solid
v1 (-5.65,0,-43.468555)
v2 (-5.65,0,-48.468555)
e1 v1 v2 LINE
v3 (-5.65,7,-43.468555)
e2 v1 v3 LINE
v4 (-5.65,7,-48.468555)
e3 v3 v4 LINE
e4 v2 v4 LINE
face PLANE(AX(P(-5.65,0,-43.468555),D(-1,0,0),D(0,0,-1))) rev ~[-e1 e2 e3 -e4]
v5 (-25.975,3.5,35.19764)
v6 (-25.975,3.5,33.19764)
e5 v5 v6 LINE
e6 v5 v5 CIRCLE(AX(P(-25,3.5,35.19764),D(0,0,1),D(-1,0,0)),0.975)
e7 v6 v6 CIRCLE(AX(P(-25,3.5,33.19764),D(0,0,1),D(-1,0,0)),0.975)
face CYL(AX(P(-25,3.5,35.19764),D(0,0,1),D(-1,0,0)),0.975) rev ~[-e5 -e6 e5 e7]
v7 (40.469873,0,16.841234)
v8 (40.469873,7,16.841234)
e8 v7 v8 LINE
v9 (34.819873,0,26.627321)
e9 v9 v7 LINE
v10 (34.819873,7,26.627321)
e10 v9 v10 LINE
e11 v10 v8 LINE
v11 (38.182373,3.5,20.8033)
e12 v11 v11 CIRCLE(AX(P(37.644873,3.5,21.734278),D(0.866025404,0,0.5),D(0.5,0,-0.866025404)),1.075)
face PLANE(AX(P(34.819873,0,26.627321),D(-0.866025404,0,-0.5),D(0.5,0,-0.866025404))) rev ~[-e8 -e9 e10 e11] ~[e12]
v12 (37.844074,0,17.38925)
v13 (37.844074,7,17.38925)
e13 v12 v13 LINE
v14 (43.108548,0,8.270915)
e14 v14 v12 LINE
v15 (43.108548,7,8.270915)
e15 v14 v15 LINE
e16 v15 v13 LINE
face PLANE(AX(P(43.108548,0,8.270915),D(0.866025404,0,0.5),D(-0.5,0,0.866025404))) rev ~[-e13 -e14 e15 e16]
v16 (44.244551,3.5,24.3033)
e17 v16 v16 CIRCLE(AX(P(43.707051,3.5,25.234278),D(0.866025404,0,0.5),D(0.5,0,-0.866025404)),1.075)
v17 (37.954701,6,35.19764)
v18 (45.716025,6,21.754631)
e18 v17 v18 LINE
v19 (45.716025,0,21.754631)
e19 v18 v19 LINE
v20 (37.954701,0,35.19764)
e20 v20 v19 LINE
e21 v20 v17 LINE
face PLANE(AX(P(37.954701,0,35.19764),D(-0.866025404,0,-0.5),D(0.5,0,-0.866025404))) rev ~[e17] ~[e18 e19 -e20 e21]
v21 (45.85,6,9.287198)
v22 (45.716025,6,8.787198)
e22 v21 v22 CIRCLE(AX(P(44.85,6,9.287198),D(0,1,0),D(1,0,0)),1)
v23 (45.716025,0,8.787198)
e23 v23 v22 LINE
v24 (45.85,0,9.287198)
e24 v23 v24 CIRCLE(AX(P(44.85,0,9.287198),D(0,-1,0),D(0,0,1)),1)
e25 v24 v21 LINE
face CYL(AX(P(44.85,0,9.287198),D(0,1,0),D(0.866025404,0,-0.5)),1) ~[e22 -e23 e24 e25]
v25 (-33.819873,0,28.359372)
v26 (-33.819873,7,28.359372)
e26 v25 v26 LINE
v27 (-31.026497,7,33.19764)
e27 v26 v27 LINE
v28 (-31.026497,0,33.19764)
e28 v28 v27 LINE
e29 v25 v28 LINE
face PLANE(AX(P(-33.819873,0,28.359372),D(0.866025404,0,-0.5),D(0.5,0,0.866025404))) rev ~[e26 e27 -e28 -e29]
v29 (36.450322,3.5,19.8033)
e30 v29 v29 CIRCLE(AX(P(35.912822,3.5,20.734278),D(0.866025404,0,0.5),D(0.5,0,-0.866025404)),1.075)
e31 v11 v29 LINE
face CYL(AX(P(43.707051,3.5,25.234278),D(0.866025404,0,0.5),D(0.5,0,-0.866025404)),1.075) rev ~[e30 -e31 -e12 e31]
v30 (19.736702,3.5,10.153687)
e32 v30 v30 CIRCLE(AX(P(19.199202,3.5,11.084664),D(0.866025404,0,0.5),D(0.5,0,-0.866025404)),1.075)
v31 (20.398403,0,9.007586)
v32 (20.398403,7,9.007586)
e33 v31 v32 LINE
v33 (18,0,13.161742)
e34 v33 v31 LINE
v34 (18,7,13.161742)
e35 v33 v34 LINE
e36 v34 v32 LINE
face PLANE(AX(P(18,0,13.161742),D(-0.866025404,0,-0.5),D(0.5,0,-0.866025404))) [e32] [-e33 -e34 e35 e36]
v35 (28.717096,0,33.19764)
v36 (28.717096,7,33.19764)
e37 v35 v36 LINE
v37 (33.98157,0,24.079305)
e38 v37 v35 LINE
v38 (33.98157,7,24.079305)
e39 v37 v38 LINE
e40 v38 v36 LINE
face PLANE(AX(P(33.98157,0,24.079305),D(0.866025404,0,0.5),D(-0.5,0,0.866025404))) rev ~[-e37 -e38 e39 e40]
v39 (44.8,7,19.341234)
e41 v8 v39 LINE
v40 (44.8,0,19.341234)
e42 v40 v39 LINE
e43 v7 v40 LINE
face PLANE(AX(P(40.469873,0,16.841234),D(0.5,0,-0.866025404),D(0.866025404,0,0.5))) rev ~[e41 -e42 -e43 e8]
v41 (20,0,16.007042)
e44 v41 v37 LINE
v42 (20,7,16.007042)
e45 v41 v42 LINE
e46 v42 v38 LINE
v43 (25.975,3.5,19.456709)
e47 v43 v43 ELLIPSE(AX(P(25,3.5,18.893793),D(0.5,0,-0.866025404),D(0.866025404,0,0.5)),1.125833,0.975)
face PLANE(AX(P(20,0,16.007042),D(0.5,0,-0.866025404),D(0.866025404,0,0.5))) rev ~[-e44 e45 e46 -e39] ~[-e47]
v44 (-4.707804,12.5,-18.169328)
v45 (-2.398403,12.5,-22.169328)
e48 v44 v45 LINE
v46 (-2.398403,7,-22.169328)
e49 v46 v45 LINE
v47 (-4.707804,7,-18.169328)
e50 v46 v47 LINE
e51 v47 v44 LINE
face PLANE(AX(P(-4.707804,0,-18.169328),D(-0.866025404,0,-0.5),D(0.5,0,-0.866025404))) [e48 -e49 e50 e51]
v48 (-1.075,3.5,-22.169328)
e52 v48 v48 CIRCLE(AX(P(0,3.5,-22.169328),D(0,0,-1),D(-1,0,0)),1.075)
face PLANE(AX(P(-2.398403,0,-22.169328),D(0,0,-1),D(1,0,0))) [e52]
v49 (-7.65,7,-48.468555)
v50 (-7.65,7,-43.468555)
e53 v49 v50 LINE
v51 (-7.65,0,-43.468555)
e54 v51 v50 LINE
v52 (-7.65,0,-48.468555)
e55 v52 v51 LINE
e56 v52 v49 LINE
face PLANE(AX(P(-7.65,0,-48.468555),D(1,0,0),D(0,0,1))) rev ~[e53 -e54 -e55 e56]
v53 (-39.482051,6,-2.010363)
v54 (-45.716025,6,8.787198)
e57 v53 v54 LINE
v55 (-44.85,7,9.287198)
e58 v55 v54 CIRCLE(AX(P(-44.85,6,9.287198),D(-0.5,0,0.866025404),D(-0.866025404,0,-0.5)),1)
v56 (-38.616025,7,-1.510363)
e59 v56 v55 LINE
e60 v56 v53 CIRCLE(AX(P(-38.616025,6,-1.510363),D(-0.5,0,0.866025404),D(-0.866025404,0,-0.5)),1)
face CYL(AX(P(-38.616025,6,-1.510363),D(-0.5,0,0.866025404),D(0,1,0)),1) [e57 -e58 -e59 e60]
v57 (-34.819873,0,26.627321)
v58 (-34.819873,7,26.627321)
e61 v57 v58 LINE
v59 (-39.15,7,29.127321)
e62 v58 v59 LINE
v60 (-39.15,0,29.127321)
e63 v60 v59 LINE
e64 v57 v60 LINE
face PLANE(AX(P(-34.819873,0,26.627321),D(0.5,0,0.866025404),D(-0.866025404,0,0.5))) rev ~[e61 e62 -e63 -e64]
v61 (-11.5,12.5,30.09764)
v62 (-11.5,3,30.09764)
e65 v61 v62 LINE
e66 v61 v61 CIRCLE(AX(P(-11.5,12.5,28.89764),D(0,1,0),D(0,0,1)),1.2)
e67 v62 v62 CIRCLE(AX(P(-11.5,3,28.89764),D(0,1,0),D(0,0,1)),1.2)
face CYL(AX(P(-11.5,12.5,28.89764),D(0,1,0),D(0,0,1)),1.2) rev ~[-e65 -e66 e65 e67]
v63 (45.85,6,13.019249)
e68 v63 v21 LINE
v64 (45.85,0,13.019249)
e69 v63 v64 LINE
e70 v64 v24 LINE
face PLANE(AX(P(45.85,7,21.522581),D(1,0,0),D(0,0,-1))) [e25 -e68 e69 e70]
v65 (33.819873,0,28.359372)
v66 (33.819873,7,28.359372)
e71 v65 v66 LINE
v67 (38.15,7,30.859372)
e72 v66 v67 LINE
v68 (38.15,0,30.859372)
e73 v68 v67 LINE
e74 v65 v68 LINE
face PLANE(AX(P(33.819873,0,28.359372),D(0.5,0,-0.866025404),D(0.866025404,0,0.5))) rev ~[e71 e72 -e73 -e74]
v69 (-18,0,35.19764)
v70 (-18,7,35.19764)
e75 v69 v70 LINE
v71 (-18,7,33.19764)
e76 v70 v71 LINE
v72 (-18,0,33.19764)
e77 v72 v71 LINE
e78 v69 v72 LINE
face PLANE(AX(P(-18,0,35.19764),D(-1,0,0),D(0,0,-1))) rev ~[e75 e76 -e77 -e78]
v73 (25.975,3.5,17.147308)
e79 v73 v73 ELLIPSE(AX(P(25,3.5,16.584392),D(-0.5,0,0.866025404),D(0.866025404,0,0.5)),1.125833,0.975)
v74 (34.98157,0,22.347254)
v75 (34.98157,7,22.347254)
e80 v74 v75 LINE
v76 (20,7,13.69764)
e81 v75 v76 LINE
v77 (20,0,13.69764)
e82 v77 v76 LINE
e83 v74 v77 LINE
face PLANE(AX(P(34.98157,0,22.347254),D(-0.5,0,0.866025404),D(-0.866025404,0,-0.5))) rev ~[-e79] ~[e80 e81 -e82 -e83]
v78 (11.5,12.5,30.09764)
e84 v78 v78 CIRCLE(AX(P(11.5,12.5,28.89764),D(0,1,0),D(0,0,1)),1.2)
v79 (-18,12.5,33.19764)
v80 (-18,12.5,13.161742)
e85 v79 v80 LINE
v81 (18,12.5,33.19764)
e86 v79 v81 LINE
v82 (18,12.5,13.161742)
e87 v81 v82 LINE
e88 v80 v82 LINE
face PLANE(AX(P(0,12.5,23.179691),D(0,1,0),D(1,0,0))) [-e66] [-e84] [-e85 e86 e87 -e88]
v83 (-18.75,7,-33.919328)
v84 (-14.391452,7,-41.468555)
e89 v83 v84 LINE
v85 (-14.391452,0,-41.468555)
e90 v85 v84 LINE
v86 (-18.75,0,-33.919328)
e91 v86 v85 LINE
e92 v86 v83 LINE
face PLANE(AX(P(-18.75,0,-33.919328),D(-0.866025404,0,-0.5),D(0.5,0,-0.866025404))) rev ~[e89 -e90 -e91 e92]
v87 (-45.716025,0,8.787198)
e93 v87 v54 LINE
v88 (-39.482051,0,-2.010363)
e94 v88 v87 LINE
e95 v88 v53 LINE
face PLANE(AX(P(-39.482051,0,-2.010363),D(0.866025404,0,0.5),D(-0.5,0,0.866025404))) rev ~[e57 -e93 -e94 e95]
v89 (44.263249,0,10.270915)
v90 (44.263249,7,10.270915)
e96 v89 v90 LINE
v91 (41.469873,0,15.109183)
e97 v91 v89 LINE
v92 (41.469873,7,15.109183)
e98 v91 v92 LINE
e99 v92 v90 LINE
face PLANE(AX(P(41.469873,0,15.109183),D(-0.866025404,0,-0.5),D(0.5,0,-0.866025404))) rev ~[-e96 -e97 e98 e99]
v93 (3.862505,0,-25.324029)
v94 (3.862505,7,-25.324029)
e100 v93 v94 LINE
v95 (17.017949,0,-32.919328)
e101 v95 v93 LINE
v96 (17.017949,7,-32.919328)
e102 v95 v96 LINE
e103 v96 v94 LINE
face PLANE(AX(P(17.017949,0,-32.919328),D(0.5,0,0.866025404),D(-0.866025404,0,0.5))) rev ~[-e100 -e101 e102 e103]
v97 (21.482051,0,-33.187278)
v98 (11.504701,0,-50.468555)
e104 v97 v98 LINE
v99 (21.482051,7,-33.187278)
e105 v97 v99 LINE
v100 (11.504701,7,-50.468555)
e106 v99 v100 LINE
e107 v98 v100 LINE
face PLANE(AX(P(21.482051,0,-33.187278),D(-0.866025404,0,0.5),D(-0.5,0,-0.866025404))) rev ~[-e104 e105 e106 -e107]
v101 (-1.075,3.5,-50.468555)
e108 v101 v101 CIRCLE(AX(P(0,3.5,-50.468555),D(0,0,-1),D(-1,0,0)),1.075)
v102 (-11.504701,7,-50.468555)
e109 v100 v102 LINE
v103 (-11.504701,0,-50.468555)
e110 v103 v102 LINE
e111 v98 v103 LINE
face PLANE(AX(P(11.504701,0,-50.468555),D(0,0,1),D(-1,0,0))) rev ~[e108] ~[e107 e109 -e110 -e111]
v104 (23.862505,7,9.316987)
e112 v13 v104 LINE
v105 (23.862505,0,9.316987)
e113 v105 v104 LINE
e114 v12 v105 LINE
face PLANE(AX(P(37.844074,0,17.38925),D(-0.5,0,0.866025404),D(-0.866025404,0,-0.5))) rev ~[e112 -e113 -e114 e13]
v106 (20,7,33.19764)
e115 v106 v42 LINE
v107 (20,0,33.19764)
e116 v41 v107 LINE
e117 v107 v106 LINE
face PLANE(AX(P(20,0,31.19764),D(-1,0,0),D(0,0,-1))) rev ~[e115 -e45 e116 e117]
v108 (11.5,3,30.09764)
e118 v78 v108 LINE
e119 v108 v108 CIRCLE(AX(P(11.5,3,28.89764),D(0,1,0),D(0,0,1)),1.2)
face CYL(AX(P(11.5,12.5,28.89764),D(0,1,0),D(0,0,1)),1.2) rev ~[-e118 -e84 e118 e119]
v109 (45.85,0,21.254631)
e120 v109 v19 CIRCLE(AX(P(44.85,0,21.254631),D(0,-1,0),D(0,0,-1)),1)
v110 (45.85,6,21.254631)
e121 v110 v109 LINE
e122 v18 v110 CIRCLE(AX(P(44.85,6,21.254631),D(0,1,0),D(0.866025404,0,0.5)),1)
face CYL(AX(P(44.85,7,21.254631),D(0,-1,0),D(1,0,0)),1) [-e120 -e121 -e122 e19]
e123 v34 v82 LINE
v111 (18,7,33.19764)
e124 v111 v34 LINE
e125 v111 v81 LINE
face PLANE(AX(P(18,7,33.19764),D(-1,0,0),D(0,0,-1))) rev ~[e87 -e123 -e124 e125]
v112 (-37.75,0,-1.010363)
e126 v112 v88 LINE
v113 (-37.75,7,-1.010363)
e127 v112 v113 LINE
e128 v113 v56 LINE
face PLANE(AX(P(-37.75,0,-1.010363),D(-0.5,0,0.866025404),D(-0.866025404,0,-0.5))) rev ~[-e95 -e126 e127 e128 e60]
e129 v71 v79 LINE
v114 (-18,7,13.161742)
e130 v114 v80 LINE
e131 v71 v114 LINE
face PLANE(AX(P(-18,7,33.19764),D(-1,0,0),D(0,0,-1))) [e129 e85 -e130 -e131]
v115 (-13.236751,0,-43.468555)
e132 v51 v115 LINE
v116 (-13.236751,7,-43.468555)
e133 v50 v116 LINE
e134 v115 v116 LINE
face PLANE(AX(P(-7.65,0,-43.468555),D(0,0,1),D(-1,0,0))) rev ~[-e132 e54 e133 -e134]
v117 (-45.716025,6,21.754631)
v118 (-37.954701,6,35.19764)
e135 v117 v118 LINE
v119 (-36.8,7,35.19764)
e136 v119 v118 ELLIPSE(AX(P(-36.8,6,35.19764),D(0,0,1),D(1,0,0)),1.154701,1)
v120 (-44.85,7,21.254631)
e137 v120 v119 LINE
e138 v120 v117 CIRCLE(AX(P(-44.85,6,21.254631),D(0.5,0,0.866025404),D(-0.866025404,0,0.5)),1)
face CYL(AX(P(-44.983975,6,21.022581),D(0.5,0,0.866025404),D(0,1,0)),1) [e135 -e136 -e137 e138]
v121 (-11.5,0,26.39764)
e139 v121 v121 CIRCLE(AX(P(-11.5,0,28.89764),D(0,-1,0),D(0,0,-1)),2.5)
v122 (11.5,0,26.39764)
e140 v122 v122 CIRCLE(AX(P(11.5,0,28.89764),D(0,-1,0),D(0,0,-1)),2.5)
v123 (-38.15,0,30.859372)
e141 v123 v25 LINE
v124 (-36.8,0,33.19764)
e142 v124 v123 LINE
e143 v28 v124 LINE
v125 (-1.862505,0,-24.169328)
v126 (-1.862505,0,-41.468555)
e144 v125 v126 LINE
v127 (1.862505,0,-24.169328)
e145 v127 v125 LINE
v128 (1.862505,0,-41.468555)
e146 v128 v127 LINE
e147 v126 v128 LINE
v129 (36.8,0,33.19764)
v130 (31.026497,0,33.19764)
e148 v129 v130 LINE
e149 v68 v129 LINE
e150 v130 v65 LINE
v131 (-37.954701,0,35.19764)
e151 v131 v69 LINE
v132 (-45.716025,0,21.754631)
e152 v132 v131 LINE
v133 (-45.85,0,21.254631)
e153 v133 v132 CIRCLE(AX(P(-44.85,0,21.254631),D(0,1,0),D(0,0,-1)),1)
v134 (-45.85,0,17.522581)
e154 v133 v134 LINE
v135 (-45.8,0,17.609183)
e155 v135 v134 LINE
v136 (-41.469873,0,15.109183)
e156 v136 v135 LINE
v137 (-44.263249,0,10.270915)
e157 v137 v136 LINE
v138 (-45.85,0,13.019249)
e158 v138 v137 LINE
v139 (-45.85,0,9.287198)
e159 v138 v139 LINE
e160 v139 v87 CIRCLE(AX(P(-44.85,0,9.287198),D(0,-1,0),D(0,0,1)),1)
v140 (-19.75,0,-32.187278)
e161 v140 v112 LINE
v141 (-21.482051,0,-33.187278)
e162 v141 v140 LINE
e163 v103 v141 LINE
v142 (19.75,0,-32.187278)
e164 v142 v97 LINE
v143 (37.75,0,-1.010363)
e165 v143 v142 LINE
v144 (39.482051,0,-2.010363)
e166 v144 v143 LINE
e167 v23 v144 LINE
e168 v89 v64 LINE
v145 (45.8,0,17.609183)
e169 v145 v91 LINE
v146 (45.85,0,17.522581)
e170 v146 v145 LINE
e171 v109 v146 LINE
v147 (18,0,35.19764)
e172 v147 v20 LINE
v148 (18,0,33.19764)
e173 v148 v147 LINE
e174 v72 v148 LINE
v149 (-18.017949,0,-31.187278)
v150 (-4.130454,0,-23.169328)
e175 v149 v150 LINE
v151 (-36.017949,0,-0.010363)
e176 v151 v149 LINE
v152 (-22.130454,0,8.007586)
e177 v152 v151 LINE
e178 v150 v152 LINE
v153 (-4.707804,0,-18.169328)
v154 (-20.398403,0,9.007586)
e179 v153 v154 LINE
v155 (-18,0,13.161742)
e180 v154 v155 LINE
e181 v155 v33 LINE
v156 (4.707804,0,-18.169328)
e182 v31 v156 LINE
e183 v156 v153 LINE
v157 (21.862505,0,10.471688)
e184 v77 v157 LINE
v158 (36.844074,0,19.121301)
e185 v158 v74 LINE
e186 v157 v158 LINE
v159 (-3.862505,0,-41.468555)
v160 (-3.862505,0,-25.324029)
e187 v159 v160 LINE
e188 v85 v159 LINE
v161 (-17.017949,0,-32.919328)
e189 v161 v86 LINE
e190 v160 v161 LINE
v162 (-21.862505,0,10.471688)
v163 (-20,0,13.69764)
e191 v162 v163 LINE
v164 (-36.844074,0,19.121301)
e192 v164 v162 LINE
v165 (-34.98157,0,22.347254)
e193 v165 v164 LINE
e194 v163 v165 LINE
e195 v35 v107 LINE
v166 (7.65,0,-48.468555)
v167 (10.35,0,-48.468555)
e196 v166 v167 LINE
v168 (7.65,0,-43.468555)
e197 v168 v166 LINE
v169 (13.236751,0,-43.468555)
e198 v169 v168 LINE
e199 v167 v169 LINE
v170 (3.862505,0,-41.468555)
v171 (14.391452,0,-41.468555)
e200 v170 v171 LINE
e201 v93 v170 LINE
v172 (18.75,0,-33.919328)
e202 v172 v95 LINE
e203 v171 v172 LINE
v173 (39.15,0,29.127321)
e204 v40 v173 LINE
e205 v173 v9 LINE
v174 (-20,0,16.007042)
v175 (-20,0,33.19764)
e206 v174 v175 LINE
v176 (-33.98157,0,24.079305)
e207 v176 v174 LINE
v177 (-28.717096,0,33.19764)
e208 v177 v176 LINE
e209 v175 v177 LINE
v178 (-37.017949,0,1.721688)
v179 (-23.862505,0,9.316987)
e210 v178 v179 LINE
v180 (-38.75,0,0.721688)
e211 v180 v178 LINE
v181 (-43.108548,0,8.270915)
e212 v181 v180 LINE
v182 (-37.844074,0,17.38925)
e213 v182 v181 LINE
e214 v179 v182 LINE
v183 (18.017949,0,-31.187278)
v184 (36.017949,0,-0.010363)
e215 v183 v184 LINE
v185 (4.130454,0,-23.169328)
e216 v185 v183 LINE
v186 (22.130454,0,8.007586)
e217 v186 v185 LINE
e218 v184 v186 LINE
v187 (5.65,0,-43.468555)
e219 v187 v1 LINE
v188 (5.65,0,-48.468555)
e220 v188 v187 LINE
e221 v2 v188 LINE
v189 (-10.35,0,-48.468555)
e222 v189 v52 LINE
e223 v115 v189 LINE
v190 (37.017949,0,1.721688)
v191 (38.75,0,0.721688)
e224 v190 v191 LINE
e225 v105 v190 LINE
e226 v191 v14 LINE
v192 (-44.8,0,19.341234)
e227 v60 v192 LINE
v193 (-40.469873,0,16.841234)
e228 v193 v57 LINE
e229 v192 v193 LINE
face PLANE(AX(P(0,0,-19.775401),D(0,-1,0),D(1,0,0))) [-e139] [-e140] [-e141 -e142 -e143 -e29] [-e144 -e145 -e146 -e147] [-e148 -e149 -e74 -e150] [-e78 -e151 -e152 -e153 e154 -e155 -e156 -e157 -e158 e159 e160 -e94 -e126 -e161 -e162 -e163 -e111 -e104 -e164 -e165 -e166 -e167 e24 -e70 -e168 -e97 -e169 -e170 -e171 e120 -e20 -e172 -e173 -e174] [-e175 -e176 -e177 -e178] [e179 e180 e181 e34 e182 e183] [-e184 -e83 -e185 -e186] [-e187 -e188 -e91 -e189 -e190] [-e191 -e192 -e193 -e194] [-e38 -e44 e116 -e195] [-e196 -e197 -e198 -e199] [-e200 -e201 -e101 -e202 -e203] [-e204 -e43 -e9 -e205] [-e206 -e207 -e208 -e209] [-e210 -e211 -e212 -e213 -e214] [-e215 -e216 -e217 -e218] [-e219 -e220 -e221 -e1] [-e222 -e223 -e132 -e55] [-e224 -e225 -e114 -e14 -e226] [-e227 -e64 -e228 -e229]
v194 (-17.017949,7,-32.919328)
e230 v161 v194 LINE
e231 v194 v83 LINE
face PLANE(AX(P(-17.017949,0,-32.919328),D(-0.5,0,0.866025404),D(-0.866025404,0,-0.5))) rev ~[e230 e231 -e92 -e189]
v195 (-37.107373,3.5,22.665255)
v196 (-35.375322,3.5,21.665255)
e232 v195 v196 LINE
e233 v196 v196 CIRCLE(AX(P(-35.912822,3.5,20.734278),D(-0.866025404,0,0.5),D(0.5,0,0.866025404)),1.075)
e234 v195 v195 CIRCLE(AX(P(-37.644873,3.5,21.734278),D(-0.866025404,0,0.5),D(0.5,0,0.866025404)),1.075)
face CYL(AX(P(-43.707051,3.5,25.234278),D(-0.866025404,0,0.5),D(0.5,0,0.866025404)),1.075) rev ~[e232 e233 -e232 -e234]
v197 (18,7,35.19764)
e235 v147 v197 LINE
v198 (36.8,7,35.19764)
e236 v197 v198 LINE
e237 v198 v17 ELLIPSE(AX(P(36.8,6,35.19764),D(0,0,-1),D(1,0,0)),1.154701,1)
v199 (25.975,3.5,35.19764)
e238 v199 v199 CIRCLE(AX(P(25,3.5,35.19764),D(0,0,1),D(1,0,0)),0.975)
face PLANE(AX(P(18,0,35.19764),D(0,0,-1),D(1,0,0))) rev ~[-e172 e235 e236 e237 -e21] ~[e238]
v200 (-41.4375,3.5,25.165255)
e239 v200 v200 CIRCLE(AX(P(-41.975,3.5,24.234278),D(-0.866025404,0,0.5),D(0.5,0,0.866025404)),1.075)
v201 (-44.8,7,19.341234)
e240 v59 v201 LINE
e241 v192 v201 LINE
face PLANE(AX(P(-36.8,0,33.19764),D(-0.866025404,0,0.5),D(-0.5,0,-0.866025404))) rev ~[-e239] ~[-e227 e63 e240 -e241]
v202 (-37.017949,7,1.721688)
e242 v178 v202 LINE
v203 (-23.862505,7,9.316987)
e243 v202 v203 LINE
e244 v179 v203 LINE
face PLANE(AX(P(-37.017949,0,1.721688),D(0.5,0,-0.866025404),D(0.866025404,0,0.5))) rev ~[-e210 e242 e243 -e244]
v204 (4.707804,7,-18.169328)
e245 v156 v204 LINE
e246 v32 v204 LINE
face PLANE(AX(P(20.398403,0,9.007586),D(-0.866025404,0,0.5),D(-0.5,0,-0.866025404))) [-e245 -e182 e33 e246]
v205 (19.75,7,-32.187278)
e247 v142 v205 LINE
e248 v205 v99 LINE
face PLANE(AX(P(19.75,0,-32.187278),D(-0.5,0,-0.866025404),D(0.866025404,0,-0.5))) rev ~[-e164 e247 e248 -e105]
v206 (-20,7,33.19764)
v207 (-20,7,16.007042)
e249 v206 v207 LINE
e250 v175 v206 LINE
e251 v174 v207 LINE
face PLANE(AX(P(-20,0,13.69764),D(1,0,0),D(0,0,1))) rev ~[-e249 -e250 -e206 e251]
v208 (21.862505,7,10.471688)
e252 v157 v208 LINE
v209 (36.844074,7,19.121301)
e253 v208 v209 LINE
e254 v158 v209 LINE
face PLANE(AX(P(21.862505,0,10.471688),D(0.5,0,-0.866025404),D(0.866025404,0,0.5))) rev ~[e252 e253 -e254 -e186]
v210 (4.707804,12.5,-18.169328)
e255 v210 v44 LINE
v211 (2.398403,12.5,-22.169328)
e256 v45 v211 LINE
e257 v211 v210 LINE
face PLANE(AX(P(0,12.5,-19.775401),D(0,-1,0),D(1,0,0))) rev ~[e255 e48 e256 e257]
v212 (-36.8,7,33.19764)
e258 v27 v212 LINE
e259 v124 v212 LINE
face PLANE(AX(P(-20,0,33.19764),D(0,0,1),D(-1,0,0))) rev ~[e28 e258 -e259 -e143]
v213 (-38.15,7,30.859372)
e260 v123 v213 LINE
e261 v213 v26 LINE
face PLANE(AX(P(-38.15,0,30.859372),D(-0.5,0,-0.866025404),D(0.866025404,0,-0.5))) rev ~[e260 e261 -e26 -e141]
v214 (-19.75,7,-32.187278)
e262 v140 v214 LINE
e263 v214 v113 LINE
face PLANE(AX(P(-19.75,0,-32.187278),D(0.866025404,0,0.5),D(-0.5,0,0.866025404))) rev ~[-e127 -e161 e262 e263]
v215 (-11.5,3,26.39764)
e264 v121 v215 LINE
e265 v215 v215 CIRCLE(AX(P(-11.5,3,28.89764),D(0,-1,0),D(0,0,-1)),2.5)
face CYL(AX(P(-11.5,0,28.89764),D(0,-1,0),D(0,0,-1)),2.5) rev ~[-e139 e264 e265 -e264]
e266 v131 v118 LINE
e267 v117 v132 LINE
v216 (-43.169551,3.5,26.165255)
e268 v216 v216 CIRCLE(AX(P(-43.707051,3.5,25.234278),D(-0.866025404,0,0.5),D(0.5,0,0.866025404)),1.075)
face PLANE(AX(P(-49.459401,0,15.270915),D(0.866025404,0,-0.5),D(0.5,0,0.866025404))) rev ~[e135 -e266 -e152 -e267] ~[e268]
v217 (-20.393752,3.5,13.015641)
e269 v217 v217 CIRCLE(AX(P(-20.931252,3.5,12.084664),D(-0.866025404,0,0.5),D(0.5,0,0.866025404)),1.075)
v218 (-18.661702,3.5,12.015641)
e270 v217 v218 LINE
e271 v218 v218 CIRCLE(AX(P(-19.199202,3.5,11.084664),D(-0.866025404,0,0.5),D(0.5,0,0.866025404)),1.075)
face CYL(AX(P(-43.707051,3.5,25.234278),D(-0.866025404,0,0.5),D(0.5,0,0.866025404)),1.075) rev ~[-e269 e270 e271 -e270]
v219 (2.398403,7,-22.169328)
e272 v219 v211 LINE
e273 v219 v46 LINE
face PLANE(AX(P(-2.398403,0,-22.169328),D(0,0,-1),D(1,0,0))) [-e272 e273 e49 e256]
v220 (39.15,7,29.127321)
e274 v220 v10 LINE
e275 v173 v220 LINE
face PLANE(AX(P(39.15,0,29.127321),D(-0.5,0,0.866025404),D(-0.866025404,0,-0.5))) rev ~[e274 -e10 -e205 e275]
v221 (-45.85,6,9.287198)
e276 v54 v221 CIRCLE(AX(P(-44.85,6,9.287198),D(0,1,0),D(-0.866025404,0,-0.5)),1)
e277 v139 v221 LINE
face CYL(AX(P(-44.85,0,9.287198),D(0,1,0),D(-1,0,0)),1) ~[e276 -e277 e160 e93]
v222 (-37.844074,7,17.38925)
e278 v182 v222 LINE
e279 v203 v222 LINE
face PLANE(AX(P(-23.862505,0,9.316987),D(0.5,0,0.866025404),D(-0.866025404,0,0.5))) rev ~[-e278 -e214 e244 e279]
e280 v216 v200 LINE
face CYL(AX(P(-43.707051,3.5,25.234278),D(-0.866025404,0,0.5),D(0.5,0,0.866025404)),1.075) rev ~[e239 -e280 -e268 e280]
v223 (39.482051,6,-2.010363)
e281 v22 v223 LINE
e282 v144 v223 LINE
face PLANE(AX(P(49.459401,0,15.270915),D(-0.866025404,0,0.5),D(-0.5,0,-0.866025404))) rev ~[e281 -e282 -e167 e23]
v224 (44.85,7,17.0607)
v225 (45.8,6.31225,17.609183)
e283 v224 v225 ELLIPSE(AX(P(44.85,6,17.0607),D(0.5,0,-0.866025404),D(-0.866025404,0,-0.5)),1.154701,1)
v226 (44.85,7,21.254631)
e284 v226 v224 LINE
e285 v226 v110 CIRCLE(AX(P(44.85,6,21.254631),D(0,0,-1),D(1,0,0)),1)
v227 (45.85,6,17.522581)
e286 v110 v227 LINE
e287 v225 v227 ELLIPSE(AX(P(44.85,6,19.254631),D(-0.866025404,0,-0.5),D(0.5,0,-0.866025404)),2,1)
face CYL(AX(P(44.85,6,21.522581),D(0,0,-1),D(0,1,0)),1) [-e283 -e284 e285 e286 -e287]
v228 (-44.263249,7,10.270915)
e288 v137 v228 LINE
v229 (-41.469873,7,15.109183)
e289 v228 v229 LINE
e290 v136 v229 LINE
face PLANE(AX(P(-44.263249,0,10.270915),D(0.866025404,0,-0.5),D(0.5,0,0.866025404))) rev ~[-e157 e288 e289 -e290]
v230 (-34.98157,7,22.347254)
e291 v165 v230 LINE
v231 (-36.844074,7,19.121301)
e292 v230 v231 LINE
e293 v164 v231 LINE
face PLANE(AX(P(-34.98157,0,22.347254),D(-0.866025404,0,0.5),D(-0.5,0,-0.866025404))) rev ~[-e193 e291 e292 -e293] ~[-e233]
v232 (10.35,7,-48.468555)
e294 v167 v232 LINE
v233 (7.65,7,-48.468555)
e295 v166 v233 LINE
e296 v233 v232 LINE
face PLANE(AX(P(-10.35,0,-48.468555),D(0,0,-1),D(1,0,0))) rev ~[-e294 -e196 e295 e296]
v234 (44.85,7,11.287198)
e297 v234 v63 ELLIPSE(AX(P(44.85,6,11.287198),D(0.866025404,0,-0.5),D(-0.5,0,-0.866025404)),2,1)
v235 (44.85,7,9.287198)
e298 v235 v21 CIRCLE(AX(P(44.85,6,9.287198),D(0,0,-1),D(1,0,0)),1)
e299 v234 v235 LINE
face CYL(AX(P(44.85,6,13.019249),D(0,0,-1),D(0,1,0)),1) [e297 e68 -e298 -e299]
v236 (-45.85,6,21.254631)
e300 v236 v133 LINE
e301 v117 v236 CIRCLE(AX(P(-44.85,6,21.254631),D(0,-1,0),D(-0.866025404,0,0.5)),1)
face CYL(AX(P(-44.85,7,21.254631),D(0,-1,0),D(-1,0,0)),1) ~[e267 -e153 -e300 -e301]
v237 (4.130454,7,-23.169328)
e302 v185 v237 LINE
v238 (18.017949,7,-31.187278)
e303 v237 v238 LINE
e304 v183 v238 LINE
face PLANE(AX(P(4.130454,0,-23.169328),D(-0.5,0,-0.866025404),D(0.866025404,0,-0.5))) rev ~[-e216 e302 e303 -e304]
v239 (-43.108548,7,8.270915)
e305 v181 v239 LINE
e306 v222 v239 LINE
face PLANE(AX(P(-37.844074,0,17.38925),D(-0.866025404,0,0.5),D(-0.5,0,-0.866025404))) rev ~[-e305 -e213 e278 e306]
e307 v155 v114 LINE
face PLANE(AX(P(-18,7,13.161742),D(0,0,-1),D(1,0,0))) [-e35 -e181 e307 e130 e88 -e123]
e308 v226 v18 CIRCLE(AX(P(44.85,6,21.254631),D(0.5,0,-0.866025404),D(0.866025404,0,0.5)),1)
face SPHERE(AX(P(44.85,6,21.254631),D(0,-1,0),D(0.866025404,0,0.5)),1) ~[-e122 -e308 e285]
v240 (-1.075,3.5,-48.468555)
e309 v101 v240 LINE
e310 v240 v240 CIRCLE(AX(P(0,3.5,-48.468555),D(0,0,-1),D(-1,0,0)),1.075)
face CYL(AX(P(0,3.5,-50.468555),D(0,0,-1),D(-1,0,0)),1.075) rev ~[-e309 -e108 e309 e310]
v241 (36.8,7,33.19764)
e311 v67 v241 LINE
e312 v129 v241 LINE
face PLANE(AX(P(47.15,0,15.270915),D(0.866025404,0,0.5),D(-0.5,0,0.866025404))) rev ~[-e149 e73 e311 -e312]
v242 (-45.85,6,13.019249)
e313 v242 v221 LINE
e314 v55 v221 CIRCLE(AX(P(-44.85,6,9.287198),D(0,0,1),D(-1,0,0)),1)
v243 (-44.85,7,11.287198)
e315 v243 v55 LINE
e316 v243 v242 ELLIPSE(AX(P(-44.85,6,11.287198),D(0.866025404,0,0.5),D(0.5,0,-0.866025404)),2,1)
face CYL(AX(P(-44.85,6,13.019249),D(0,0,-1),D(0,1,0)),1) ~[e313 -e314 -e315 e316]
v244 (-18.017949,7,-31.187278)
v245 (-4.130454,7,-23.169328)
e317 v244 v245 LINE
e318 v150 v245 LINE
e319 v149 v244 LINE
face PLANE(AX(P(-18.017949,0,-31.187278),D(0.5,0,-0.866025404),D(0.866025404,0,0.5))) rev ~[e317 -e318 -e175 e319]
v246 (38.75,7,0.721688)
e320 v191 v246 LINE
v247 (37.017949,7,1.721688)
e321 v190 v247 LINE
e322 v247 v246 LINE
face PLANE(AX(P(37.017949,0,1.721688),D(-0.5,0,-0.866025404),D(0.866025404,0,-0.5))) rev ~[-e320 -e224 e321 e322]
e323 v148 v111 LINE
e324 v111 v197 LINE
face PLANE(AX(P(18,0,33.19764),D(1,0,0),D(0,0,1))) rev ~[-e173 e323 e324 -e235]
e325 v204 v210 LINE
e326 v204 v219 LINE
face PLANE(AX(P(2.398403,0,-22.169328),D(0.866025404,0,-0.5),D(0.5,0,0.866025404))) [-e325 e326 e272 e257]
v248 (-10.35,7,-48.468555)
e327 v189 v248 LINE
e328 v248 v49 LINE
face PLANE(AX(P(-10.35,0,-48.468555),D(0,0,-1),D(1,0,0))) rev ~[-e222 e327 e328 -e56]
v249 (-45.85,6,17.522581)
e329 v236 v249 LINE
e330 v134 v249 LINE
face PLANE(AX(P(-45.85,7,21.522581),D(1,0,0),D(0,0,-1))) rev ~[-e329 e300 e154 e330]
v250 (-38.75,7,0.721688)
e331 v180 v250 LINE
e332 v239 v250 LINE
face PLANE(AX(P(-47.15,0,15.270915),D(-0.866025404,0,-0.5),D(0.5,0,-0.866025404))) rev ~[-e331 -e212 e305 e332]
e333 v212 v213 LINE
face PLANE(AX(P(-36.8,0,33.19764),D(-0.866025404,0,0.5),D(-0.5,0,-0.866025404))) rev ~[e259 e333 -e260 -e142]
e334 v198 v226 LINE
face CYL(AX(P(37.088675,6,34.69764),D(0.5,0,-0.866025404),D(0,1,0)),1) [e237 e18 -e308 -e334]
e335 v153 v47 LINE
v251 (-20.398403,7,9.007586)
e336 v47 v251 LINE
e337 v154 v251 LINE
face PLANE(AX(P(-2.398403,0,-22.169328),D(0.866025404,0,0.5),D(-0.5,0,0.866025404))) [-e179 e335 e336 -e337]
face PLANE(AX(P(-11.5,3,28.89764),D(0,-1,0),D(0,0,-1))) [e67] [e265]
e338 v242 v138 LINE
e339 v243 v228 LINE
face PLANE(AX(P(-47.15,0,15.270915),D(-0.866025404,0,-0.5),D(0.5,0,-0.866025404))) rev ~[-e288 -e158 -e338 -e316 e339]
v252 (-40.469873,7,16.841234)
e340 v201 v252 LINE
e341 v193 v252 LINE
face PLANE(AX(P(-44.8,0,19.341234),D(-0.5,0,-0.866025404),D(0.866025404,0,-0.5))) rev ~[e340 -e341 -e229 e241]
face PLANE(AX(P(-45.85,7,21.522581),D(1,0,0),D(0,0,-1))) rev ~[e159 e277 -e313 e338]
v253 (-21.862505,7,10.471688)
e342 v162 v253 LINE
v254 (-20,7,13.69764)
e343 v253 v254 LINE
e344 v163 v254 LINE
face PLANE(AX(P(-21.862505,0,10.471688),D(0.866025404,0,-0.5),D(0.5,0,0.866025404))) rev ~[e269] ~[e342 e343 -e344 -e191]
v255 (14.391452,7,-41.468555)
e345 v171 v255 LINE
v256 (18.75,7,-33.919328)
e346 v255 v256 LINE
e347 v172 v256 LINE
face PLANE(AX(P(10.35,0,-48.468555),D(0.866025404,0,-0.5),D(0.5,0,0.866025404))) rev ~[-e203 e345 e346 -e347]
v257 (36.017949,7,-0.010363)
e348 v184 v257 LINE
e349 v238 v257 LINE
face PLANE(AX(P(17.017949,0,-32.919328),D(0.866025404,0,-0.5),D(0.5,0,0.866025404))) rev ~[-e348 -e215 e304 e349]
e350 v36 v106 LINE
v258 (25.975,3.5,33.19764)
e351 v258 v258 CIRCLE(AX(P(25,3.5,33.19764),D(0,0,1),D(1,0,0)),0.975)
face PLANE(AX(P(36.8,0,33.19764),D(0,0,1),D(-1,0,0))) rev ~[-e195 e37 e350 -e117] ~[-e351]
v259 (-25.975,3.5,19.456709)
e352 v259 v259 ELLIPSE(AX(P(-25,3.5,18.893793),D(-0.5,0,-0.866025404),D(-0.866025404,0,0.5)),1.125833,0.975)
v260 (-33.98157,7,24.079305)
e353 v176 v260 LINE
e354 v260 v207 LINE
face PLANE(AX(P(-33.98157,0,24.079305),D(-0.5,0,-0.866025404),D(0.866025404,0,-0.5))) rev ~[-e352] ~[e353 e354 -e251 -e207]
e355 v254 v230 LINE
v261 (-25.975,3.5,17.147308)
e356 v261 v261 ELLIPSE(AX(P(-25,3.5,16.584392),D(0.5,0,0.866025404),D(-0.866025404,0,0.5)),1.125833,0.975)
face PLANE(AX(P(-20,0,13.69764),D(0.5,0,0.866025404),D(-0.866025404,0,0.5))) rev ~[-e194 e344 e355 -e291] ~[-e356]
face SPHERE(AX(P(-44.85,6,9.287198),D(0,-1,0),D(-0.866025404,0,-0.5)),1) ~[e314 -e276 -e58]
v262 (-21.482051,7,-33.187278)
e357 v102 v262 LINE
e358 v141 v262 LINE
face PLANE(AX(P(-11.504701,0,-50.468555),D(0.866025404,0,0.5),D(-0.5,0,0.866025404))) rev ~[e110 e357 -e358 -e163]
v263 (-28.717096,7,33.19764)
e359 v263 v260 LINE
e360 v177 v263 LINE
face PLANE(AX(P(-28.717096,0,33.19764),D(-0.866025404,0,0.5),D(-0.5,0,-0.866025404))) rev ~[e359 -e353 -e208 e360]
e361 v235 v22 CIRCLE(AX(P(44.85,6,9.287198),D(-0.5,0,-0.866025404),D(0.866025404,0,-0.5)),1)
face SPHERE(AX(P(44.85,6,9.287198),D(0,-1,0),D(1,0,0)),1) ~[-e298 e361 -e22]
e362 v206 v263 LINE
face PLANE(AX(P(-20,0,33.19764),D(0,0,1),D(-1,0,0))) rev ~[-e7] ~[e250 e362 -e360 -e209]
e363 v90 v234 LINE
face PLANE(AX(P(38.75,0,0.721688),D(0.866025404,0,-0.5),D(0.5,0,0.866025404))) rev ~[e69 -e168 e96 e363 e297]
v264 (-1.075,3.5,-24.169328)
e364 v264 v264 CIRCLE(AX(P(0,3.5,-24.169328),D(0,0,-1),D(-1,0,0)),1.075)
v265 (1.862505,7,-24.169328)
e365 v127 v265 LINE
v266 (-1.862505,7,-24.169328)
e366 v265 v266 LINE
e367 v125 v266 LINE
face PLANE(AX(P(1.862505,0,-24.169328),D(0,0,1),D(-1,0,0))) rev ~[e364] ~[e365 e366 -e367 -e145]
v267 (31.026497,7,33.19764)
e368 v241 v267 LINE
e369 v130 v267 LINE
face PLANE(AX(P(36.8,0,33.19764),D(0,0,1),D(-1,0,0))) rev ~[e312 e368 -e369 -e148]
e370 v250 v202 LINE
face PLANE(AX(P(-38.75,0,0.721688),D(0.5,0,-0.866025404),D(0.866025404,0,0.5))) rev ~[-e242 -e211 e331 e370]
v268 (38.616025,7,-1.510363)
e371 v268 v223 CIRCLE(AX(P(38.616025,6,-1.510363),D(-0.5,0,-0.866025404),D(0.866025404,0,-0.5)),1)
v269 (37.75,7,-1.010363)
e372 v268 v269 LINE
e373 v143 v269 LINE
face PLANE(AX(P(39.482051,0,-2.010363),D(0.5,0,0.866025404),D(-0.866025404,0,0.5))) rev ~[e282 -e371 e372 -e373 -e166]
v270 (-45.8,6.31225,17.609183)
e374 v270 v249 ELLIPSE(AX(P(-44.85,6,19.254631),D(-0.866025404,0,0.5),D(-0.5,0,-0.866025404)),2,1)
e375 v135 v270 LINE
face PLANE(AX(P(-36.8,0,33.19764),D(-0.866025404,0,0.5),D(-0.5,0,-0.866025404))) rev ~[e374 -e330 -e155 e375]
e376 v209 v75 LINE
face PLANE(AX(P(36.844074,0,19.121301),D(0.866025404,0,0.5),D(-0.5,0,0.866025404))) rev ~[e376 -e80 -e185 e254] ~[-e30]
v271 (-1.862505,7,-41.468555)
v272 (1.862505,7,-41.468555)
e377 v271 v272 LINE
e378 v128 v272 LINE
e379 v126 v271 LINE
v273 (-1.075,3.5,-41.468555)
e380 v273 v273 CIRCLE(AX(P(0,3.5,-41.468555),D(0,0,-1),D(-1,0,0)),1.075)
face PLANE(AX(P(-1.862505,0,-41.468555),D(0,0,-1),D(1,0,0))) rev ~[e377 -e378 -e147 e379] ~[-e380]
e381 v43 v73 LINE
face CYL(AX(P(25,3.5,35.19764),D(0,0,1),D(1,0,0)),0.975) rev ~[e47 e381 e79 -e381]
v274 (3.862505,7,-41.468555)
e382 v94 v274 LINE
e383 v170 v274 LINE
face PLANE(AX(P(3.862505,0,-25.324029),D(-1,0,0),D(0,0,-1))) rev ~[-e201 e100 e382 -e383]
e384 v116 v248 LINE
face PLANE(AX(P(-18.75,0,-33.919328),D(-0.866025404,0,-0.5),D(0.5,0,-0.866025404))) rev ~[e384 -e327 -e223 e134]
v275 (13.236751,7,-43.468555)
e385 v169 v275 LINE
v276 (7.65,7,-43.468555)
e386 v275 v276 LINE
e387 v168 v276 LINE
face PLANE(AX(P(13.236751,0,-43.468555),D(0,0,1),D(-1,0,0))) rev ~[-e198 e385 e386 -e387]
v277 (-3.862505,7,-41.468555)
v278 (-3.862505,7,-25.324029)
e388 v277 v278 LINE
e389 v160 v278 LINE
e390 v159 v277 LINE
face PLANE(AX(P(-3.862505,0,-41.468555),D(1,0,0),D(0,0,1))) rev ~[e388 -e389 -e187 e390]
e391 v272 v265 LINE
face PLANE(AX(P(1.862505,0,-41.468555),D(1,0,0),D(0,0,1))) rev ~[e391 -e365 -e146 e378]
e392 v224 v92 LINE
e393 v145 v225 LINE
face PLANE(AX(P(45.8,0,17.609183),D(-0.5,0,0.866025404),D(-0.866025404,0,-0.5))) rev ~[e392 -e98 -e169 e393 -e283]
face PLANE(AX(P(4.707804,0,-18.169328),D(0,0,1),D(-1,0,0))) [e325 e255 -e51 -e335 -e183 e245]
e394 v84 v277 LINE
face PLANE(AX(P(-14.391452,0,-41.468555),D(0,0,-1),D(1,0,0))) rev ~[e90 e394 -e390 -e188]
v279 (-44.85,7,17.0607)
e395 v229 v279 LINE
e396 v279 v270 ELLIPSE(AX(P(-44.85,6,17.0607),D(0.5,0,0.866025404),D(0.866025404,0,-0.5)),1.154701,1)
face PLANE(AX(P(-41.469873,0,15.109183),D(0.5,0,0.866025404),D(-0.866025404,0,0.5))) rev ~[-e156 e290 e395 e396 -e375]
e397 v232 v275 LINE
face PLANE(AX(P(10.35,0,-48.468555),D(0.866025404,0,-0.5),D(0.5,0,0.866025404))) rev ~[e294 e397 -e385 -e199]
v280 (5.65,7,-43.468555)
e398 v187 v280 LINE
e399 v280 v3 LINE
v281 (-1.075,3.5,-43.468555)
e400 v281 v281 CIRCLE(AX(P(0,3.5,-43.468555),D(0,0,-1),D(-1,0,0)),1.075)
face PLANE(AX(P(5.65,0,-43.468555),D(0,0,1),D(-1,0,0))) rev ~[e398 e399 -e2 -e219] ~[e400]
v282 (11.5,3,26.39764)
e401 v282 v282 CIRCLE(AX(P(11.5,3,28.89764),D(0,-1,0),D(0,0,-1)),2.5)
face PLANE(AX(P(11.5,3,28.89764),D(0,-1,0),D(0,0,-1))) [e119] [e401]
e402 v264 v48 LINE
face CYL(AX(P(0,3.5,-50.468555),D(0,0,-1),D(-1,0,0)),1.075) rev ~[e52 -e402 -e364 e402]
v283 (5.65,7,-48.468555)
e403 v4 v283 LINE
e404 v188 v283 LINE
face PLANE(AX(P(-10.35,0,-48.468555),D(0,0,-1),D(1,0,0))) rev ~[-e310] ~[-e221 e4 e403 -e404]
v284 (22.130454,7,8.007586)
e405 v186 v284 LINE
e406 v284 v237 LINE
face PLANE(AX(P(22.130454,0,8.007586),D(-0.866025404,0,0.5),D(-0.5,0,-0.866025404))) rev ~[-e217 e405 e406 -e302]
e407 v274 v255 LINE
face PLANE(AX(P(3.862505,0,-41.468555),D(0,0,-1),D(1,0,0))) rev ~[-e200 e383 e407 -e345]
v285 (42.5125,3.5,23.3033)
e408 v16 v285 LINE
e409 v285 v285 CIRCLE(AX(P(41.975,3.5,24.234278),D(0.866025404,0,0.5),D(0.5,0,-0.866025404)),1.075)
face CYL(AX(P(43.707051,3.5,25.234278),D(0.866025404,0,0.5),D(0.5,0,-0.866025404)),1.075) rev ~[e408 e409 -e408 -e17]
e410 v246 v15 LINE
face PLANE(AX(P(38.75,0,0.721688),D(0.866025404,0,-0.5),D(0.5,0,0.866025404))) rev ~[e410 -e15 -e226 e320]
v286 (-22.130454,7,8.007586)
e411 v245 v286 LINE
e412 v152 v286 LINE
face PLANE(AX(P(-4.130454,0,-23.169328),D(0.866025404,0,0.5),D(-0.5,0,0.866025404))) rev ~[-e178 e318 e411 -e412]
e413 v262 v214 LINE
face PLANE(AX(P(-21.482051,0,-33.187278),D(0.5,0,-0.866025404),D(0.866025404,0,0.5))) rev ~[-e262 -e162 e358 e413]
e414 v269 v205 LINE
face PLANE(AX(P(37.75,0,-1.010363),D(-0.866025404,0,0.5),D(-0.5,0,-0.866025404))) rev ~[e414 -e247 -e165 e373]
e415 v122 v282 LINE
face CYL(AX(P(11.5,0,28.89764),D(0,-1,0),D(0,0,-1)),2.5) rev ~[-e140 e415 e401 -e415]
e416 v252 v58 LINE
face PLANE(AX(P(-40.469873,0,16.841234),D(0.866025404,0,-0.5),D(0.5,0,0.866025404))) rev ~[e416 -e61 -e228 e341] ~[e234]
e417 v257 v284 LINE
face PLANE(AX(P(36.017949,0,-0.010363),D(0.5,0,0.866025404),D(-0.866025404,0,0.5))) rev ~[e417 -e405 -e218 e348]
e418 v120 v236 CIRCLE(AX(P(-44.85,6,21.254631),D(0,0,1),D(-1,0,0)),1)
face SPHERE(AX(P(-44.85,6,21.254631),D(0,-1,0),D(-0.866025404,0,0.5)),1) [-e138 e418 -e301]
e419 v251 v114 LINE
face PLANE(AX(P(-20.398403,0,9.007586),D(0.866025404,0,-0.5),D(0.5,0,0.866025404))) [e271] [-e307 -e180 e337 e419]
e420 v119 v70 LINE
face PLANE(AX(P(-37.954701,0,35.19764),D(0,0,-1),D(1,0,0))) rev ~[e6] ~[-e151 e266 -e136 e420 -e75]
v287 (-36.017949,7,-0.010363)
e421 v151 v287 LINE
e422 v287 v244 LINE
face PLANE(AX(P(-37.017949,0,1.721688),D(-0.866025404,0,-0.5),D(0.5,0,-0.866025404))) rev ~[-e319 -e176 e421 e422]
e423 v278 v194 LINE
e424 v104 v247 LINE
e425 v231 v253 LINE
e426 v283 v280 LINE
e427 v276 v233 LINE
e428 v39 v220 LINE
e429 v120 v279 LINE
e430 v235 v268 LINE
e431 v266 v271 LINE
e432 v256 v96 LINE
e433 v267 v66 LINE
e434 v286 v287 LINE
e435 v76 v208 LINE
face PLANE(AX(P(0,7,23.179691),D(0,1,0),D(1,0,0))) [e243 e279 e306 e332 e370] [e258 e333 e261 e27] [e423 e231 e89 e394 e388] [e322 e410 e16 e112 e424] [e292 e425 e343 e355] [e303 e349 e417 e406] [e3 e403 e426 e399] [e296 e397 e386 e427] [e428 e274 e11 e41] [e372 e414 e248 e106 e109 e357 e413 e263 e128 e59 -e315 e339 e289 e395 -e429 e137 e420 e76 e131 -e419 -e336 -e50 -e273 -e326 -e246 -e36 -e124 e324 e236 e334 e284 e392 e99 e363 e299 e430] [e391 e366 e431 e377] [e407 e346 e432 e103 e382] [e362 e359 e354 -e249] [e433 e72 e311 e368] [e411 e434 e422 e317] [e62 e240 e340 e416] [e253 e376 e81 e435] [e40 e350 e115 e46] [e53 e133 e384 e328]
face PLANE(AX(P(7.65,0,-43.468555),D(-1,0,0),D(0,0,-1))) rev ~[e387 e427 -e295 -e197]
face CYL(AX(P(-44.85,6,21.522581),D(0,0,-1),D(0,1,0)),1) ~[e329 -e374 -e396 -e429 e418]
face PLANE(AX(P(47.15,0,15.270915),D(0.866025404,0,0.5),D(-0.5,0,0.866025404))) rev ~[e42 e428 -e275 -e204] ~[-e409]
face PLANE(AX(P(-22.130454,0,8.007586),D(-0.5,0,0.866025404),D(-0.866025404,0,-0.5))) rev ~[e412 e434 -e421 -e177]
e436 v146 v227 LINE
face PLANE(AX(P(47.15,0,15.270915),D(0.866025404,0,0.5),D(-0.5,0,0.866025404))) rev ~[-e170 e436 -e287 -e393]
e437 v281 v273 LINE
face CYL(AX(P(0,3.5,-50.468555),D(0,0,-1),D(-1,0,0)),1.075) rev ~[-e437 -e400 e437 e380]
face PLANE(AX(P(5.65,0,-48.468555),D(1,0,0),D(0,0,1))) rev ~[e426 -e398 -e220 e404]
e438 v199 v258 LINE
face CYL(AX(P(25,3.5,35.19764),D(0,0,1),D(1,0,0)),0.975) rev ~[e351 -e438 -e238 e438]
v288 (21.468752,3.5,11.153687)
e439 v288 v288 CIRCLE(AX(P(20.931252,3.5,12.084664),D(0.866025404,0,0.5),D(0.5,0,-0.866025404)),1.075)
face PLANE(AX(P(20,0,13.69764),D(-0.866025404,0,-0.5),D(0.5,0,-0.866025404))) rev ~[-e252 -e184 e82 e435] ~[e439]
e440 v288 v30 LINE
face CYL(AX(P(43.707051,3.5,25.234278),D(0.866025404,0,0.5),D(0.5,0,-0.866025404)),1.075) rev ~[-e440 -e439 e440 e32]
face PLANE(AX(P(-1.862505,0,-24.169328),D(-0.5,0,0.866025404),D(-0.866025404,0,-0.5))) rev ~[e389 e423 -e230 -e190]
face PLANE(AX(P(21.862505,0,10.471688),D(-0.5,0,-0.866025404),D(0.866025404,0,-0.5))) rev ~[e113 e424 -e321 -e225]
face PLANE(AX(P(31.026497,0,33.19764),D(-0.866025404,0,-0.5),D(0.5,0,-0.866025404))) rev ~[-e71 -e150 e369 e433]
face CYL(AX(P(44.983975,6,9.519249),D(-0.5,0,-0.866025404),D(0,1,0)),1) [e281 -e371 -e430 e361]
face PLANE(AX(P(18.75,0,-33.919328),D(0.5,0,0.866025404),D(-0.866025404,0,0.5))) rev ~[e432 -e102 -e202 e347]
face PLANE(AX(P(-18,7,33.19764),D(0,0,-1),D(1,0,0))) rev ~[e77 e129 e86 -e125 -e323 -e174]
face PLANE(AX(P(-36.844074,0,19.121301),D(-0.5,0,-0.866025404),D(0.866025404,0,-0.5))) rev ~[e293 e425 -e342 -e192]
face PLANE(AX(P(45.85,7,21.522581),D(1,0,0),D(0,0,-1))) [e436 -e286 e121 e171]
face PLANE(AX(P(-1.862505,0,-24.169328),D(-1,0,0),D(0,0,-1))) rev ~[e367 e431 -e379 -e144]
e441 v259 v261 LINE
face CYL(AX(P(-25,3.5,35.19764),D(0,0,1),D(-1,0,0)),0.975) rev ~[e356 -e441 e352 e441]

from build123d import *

# Parameters (mm, degrees)
EXTRUDE_1_DEPTH     = 7
EXTRUDE_2_DEPTH     = 7
EXTRUDE_3_DEPTH     = 7
CUT_EXTRUDE_1_REACH = 122.249
SKETCH_5_R          = 1.075
CUT_EXTRUDE_2_REACH = 101.166
SKETCH_6_R          = 1.075
CUT_EXTRUDE_3_REACH = 122.249
SKETCH_7_R          = 1.075
SKETCH_8_W          = 36
SKETCH_8_H          = 16.035898384
EXTRUDE_4_DEPTH     = 7
SKETCH_9_W          = 36
SKETCH_9_H          = 20.035898384
EXTRUDE_5_DEPTH     = 5.5
SKETCH_10_R         = 1.2
CUT_EXTRUDE_4_DEPTH = 72.760416725
FILLET_1_R          = 8
SKETCH_12_W         = 8.3
SKETCH_12_H         = 24.649880383
CUT_EXTRUDE_6_DEPTH = 71.152809904
FILLET_2_R          = 1
SKETCH_13_R         = 2.5
CUT_EXTRUDE_7_DEPTH = 3
EXTRUDE_6_DEPTH     = 12.5
SKETCH_16_R         = 0.975
CUT_EXTRUDE_8_DEPTH = 20


with BuildPart() as part:
    # ｽｹｯﾁ1 → ﾎﾞｽ - 押し出し1 (new body)
    with BuildSketch(Plane(origin=(0, 0, 0), x_dir=(1, 0, 0), z_dir=(0, 1, 0))):
        Polygon((-18, -33.197640478), (18, -33.197640478), (18, -35.197640478), (37.954700538, -35.197640478), (49.459401077, -15.27091462), (39.482050808, 2.010362971), (37.75, 1.010362971), (19.75, 32.187277507), (21.482050808, 33.187277507), (11.504700538, 50.468555098), (-11.504700538, 50.468555098), (-21.482050808, 33.187277507), (-19.75, 32.187277507), (-37.75, 1.010362971), (-39.482050808, 2.010362971), (-49.459401077, -15.27091462), (-37.954700538, -35.197640478), (-18, -35.197640478), align=None)
        Polygon((-10.35, 48.468555098), (10.35, 48.468555098), (18.75, 33.919328315), (17.017949192, 32.919328315), (37.017949192, -1.721687836), (38.75, -0.721687836), (47.15, -15.27091462), (36.8, -33.197640478), (20, -33.197640478), (20, -31.197640478), (-20, -31.197640478), (-20, -33.197640478), (-36.8, -33.197640478), (-47.15, -15.27091462), (-38.75, -0.721687836), (-37.017949192, -1.721687836), (-17.017949192, 32.919328315), (-18.75, 33.919328315), align=None, mode=Mode.SUBTRACT)
    extrude(amount=EXTRUDE_1_DEPTH)

    # ｽｹｯﾁ3 → ﾎﾞｽ - 押し出し2 (add)
    with BuildSketch(Plane.XZ):
        Polygon((-20, 13.697640478), (-20, 31.197640478), (-18, 31.197640478), (-18, 15.161742094), (18, 15.161742094), (18, 31.197640478), (20, 31.197640478), (20, 13.697640478), (21.862504626, 10.471687836), (37.017949192, 1.721687836), (36.017949192, -0.010362971), (22.130453819, 8.007586221), (4.130453819, -23.169328315), (18.017949192, -31.187277507), (17.017949192, -32.919328315), (1.862504626, -24.169328315), (-1.862504626, -24.169328315), (-17.017949192, -32.919328315), (-18.017949192, -31.187277507), (-4.130453819, -23.169328315), (-22.130453819, 8.007586221), (-36.017949192, -0.010362971), (-37.017949192, 1.721687836), (-21.862504626, 10.471687836), align=None)
        Polygon((-20.398403011, 9.007586221), (-18, 13.161742094), (18, 13.161742094), (20.398403011, 9.007586221), (2.398403011, -22.169328315), (-2.398403011, -22.169328315), align=None, mode=Mode.SUBTRACT)
    extrude(amount=-EXTRUDE_2_DEPTH)

    # ｽｹｯﾁ4 → ﾎﾞｽ - 押し出し3 (add)
    with BuildSketch(Plane.XZ):
        Polygon((31.026497308, 33.197640478), (33.819872981, 28.359371888), (38.15, 30.859371888), (39.15, 29.127321081), (34.819872981, 26.627321081), (40.469872981, 16.841234018), (44.8, 19.341234018), (45.8, 17.60918321), (41.469872981, 15.10918321), (44.263248654, 10.27091462), (43.108548116, 8.27091462), (37.844074487, 17.389250421), (23.862504626, 9.316987298), (21.862504626, 10.471687836), (36.844074487, 19.121301228), (34.98156986, 22.34725387), (20, 13.697640478), (20, 16.007041555), (33.98156986, 24.079304678), (28.717096231, 33.197640478), align=None)
        Polygon((-31.026497308, 33.197640478), (-28.717096231, 33.197640478), (-33.98156986, 24.079304678), (-20, 16.007041555), (-20, 13.697640478), (-34.98156986, 22.34725387), (-36.844074487, 19.121301228), (-21.862504626, 10.471687836), (-23.862504626, 9.316987298), (-37.844074487, 17.389250421), (-43.108548116, 8.27091462), (-44.263248654, 10.27091462), (-41.469872981, 15.10918321), (-45.8, 17.60918321), (-44.8, 19.341234018), (-40.469872981, 16.841234018), (-34.819872981, 26.627321081), (-39.15, 29.127321081), (-38.15, 30.859371888), (-33.819872981, 28.359371888), align=None)
        Polygon((-14.391451884, -41.468555098), (-3.862504626, -41.468555098), (-3.862504626, -25.324028853), (-1.862504626, -24.169328315), (-1.862504626, -41.468555098), (1.862504626, -41.468555098), (1.862504626, -24.169328315), (3.862504626, -25.324028853), (3.862504626, -41.468555098), (14.391451884, -41.468555098), (13.236751346, -43.468555098), (7.65, -43.468555098), (7.65, -48.468555098), (5.65, -48.468555098), (5.65, -43.468555098), (-5.65, -43.468555098), (-5.65, -48.468555098), (-7.65, -48.468555098), (-7.65, -43.468555098), (-13.236751346, -43.468555098), align=None)
    extrude(amount=-EXTRUDE_3_DEPTH)

    # ｶｯﾄ - 押し出し1: up to this face of the body (flat: up to its plane)
    cut_extrude_1_end = Plane(part.part.faces().sort_by_distance((19.199201506, 3.5, 11.084664157))[0])
    # ｽｹｯﾁ5 → ｶｯﾄ - 押し出し1 (cut, up to the picked face)
    with BuildSketch(Plane(origin=(43.707050808, 0, 25.234277549), x_dir=(0.5, 0, -0.8660254037844386), z_dir=(0.8660254037844387, 0, 0.5000000000000001)), mode=Mode.PRIVATE) as cut_extrude_1_sk1:
        with Locations((0, 3.5)):
            Circle(SKETCH_5_R)
    cut_extrude_1_tool1 = split(extrude(cut_extrude_1_sk1.sketch, amount=-CUT_EXTRUDE_1_REACH, mode=Mode.PRIVATE), bisect_by=cut_extrude_1_end, keep=Keep.BOTH, mode=Mode.PRIVATE)
    add(cut_extrude_1_tool1.solids().sort_by(Axis((43.707051, 3.5, 25.234278), (-0.8660254037844387, 0, -0.5000000000000001)))[0], mode=Mode.SUBTRACT)

    # ｶｯﾄ - 押し出し2: up to this face of the body (flat: up to its plane)
    cut_extrude_2_end = Plane(part.part.faces().sort_by_distance((0, 3.5, -22.169328315))[0])
    # ｽｹｯﾁ6 → ｶｯﾄ - 押し出し2 (cut, up to the picked face)
    with BuildSketch(Plane(origin=(0, 0, -50.468555098), x_dir=(-1, 0, 0), z_dir=(0, 0, -1)), mode=Mode.PRIVATE) as cut_extrude_2_sk1:
        with Locations((0, 3.5)):
            Circle(SKETCH_6_R)
    cut_extrude_2_tool1 = split(extrude(cut_extrude_2_sk1.sketch, amount=-CUT_EXTRUDE_2_REACH, mode=Mode.PRIVATE), bisect_by=cut_extrude_2_end, keep=Keep.BOTH, mode=Mode.PRIVATE)
    add(cut_extrude_2_tool1.solids().sort_by(Axis((0, 3.5, -50.468555), (0, 0, 1)))[0], mode=Mode.SUBTRACT)

    # ｶｯﾄ - 押し出し3: up to this face of the body (flat: up to its plane)
    cut_extrude_3_end = Plane(part.part.faces().sort_by_distance((-19.199201506, 3.5, 11.084664157))[0])
    # ｽｹｯﾁ7 → ｶｯﾄ - 押し出し3 (cut, up to the picked face)
    with BuildSketch(Plane(origin=(-43.707050808, 0, 25.234277549), x_dir=(0.5000000000000001, 0, 0.8660254037844386), z_dir=(-0.8660254037844386, 0, 0.5000000000000001)), mode=Mode.PRIVATE) as cut_extrude_3_sk1:
        with Locations((0, 3.5)):
            Circle(SKETCH_7_R)
    cut_extrude_3_tool1 = split(extrude(cut_extrude_3_sk1.sketch, amount=-CUT_EXTRUDE_3_REACH, mode=Mode.PRIVATE), bisect_by=cut_extrude_3_end, keep=Keep.BOTH, mode=Mode.PRIVATE)
    add(cut_extrude_3_tool1.solids().sort_by(Axis((-43.707051, 3.5, 25.234278), (0.8660254037844386, 0, -0.5000000000000001)))[0], mode=Mode.SUBTRACT)

    # ｽｹｯﾁ8 → ﾎﾞｽ - 押し出し4 (add)
    with BuildSketch(Plane(origin=(0, 7, 0), x_dir=(1, 0, 0), z_dir=(0, 1, 0))):
        with Locations((0, -23.179691286)):
            Rectangle(SKETCH_8_W, SKETCH_8_H)
    extrude(amount=-EXTRUDE_4_DEPTH)

    # ｽｹｯﾁ9 → ﾎﾞｽ - 押し出し5 (add)
    with BuildSketch(Plane(origin=(0, 7, 0), x_dir=(1, 0, 0), z_dir=(0, 1, 0))):
        with Locations((0, -23.179691286)):
            Rectangle(SKETCH_9_W, SKETCH_9_H)
    extrude(amount=EXTRUDE_5_DEPTH)

    # ｽｹｯﾁ10 → ｶｯﾄ - 押し出し4 (cut, through all)
    with BuildSketch(Plane(origin=(0, 12.5, 0), x_dir=(1, 0, 0), z_dir=(0, 1, 0))):
        with Locations(Location((-11.5, -28.897640478, 0), (0, 0, 270))):
            Circle(SKETCH_10_R)
        with Locations(Location((11.5, -28.897640478, 0), (0, 0, 270))):
            Circle(SKETCH_10_R)
    extrude(amount=-CUT_EXTRUDE_4_DEPTH, mode=Mode.SUBTRACT)

    # ﾌｨﾚｯﾄ1
    fillet_1_edges = [part.edges().sort_by_distance(p)[0] for p in [
        (-49.459401077, 3.5, 15.27091462),
        (49.459401077, 3.5, 15.27091462),
    ]]
    fillet(fillet_1_edges, radius=FILLET_1_R)

    # ｽｹｯﾁ12 → ｶｯﾄ - 押し出し6 (cut, through all)
    with BuildSketch(Plane(origin=(0, 7, 0), x_dir=(1, 0, 0), z_dir=(0, 1, 0))):
        with Locations((-50, -9.197640479)):
            Rectangle(SKETCH_12_W, SKETCH_12_H)
        with Locations((50, -9.197640479)):
            Rectangle(SKETCH_12_W, SKETCH_12_H)
    extrude(amount=-CUT_EXTRUDE_6_DEPTH, mode=Mode.SUBTRACT)

    # ﾌｨﾚｯﾄ2
    fillet_2_edges = [part.edges().sort_by_distance(p)[0] for p in [
        (42.666025404, 7, 3.5044428),
        (45.85, 3.5, 9.01924857),
        (45.85, 7, 11.01924857),
        (45.85, 7, 19.52258067),
        (45.85, 3.5, 21.52258067),
        (41.902350269, 7, 28.360110574),
        (-41.902350269, 7, 28.360110574),
        (-45.85, 7, 19.52258067),
        (-45.85, 3.5, 21.52258067),
        (-45.85, 3.5, 9.01924857),
        (-42.666025404, 7, 3.5044428),
        (-45.85, 7, 11.01924857),
    ]]
    fillet(fillet_2_edges, radius=FILLET_2_R)

    # ｽｹｯﾁ13 → ｶｯﾄ - 押し出し7 (cut)
    with BuildSketch(Plane.XZ):
        with Locations(Location((11.5, 28.897640478, 0), (0, 0, 270))):
            Circle(SKETCH_13_R)
        with Locations(Location((-11.5, 28.897640478, 0), (0, 0, 270))):
            Circle(SKETCH_13_R)
    extrude(amount=-CUT_EXTRUDE_7_DEPTH, mode=Mode.SUBTRACT)

    # ｽｹｯﾁ15 → ﾎﾞｽ - 押し出し6 (add)
    with BuildSketch(Plane.XZ):
        Polygon((2.398403011, -22.169328315), (4.707804088, -18.169328315), (-4.707804088, -18.169328315), (-2.398403011, -22.169328315), align=None)
    extrude(amount=-EXTRUDE_6_DEPTH)

    # ｽｹｯﾁ16 → ｶｯﾄ - 押し出し8 (cut)
    with BuildSketch(Plane.XY.offset(35.197640478)):
        with Locations(Location((-25, 3.5, 0), (0, 0, 180))):
            Circle(SKETCH_16_R)
        with Locations((25, 3.5)):
            Circle(SKETCH_16_R)
    extrude(amount=-CUT_EXTRUDE_8_DEPTH, mode=Mode.SUBTRACT)


solid = part.part
